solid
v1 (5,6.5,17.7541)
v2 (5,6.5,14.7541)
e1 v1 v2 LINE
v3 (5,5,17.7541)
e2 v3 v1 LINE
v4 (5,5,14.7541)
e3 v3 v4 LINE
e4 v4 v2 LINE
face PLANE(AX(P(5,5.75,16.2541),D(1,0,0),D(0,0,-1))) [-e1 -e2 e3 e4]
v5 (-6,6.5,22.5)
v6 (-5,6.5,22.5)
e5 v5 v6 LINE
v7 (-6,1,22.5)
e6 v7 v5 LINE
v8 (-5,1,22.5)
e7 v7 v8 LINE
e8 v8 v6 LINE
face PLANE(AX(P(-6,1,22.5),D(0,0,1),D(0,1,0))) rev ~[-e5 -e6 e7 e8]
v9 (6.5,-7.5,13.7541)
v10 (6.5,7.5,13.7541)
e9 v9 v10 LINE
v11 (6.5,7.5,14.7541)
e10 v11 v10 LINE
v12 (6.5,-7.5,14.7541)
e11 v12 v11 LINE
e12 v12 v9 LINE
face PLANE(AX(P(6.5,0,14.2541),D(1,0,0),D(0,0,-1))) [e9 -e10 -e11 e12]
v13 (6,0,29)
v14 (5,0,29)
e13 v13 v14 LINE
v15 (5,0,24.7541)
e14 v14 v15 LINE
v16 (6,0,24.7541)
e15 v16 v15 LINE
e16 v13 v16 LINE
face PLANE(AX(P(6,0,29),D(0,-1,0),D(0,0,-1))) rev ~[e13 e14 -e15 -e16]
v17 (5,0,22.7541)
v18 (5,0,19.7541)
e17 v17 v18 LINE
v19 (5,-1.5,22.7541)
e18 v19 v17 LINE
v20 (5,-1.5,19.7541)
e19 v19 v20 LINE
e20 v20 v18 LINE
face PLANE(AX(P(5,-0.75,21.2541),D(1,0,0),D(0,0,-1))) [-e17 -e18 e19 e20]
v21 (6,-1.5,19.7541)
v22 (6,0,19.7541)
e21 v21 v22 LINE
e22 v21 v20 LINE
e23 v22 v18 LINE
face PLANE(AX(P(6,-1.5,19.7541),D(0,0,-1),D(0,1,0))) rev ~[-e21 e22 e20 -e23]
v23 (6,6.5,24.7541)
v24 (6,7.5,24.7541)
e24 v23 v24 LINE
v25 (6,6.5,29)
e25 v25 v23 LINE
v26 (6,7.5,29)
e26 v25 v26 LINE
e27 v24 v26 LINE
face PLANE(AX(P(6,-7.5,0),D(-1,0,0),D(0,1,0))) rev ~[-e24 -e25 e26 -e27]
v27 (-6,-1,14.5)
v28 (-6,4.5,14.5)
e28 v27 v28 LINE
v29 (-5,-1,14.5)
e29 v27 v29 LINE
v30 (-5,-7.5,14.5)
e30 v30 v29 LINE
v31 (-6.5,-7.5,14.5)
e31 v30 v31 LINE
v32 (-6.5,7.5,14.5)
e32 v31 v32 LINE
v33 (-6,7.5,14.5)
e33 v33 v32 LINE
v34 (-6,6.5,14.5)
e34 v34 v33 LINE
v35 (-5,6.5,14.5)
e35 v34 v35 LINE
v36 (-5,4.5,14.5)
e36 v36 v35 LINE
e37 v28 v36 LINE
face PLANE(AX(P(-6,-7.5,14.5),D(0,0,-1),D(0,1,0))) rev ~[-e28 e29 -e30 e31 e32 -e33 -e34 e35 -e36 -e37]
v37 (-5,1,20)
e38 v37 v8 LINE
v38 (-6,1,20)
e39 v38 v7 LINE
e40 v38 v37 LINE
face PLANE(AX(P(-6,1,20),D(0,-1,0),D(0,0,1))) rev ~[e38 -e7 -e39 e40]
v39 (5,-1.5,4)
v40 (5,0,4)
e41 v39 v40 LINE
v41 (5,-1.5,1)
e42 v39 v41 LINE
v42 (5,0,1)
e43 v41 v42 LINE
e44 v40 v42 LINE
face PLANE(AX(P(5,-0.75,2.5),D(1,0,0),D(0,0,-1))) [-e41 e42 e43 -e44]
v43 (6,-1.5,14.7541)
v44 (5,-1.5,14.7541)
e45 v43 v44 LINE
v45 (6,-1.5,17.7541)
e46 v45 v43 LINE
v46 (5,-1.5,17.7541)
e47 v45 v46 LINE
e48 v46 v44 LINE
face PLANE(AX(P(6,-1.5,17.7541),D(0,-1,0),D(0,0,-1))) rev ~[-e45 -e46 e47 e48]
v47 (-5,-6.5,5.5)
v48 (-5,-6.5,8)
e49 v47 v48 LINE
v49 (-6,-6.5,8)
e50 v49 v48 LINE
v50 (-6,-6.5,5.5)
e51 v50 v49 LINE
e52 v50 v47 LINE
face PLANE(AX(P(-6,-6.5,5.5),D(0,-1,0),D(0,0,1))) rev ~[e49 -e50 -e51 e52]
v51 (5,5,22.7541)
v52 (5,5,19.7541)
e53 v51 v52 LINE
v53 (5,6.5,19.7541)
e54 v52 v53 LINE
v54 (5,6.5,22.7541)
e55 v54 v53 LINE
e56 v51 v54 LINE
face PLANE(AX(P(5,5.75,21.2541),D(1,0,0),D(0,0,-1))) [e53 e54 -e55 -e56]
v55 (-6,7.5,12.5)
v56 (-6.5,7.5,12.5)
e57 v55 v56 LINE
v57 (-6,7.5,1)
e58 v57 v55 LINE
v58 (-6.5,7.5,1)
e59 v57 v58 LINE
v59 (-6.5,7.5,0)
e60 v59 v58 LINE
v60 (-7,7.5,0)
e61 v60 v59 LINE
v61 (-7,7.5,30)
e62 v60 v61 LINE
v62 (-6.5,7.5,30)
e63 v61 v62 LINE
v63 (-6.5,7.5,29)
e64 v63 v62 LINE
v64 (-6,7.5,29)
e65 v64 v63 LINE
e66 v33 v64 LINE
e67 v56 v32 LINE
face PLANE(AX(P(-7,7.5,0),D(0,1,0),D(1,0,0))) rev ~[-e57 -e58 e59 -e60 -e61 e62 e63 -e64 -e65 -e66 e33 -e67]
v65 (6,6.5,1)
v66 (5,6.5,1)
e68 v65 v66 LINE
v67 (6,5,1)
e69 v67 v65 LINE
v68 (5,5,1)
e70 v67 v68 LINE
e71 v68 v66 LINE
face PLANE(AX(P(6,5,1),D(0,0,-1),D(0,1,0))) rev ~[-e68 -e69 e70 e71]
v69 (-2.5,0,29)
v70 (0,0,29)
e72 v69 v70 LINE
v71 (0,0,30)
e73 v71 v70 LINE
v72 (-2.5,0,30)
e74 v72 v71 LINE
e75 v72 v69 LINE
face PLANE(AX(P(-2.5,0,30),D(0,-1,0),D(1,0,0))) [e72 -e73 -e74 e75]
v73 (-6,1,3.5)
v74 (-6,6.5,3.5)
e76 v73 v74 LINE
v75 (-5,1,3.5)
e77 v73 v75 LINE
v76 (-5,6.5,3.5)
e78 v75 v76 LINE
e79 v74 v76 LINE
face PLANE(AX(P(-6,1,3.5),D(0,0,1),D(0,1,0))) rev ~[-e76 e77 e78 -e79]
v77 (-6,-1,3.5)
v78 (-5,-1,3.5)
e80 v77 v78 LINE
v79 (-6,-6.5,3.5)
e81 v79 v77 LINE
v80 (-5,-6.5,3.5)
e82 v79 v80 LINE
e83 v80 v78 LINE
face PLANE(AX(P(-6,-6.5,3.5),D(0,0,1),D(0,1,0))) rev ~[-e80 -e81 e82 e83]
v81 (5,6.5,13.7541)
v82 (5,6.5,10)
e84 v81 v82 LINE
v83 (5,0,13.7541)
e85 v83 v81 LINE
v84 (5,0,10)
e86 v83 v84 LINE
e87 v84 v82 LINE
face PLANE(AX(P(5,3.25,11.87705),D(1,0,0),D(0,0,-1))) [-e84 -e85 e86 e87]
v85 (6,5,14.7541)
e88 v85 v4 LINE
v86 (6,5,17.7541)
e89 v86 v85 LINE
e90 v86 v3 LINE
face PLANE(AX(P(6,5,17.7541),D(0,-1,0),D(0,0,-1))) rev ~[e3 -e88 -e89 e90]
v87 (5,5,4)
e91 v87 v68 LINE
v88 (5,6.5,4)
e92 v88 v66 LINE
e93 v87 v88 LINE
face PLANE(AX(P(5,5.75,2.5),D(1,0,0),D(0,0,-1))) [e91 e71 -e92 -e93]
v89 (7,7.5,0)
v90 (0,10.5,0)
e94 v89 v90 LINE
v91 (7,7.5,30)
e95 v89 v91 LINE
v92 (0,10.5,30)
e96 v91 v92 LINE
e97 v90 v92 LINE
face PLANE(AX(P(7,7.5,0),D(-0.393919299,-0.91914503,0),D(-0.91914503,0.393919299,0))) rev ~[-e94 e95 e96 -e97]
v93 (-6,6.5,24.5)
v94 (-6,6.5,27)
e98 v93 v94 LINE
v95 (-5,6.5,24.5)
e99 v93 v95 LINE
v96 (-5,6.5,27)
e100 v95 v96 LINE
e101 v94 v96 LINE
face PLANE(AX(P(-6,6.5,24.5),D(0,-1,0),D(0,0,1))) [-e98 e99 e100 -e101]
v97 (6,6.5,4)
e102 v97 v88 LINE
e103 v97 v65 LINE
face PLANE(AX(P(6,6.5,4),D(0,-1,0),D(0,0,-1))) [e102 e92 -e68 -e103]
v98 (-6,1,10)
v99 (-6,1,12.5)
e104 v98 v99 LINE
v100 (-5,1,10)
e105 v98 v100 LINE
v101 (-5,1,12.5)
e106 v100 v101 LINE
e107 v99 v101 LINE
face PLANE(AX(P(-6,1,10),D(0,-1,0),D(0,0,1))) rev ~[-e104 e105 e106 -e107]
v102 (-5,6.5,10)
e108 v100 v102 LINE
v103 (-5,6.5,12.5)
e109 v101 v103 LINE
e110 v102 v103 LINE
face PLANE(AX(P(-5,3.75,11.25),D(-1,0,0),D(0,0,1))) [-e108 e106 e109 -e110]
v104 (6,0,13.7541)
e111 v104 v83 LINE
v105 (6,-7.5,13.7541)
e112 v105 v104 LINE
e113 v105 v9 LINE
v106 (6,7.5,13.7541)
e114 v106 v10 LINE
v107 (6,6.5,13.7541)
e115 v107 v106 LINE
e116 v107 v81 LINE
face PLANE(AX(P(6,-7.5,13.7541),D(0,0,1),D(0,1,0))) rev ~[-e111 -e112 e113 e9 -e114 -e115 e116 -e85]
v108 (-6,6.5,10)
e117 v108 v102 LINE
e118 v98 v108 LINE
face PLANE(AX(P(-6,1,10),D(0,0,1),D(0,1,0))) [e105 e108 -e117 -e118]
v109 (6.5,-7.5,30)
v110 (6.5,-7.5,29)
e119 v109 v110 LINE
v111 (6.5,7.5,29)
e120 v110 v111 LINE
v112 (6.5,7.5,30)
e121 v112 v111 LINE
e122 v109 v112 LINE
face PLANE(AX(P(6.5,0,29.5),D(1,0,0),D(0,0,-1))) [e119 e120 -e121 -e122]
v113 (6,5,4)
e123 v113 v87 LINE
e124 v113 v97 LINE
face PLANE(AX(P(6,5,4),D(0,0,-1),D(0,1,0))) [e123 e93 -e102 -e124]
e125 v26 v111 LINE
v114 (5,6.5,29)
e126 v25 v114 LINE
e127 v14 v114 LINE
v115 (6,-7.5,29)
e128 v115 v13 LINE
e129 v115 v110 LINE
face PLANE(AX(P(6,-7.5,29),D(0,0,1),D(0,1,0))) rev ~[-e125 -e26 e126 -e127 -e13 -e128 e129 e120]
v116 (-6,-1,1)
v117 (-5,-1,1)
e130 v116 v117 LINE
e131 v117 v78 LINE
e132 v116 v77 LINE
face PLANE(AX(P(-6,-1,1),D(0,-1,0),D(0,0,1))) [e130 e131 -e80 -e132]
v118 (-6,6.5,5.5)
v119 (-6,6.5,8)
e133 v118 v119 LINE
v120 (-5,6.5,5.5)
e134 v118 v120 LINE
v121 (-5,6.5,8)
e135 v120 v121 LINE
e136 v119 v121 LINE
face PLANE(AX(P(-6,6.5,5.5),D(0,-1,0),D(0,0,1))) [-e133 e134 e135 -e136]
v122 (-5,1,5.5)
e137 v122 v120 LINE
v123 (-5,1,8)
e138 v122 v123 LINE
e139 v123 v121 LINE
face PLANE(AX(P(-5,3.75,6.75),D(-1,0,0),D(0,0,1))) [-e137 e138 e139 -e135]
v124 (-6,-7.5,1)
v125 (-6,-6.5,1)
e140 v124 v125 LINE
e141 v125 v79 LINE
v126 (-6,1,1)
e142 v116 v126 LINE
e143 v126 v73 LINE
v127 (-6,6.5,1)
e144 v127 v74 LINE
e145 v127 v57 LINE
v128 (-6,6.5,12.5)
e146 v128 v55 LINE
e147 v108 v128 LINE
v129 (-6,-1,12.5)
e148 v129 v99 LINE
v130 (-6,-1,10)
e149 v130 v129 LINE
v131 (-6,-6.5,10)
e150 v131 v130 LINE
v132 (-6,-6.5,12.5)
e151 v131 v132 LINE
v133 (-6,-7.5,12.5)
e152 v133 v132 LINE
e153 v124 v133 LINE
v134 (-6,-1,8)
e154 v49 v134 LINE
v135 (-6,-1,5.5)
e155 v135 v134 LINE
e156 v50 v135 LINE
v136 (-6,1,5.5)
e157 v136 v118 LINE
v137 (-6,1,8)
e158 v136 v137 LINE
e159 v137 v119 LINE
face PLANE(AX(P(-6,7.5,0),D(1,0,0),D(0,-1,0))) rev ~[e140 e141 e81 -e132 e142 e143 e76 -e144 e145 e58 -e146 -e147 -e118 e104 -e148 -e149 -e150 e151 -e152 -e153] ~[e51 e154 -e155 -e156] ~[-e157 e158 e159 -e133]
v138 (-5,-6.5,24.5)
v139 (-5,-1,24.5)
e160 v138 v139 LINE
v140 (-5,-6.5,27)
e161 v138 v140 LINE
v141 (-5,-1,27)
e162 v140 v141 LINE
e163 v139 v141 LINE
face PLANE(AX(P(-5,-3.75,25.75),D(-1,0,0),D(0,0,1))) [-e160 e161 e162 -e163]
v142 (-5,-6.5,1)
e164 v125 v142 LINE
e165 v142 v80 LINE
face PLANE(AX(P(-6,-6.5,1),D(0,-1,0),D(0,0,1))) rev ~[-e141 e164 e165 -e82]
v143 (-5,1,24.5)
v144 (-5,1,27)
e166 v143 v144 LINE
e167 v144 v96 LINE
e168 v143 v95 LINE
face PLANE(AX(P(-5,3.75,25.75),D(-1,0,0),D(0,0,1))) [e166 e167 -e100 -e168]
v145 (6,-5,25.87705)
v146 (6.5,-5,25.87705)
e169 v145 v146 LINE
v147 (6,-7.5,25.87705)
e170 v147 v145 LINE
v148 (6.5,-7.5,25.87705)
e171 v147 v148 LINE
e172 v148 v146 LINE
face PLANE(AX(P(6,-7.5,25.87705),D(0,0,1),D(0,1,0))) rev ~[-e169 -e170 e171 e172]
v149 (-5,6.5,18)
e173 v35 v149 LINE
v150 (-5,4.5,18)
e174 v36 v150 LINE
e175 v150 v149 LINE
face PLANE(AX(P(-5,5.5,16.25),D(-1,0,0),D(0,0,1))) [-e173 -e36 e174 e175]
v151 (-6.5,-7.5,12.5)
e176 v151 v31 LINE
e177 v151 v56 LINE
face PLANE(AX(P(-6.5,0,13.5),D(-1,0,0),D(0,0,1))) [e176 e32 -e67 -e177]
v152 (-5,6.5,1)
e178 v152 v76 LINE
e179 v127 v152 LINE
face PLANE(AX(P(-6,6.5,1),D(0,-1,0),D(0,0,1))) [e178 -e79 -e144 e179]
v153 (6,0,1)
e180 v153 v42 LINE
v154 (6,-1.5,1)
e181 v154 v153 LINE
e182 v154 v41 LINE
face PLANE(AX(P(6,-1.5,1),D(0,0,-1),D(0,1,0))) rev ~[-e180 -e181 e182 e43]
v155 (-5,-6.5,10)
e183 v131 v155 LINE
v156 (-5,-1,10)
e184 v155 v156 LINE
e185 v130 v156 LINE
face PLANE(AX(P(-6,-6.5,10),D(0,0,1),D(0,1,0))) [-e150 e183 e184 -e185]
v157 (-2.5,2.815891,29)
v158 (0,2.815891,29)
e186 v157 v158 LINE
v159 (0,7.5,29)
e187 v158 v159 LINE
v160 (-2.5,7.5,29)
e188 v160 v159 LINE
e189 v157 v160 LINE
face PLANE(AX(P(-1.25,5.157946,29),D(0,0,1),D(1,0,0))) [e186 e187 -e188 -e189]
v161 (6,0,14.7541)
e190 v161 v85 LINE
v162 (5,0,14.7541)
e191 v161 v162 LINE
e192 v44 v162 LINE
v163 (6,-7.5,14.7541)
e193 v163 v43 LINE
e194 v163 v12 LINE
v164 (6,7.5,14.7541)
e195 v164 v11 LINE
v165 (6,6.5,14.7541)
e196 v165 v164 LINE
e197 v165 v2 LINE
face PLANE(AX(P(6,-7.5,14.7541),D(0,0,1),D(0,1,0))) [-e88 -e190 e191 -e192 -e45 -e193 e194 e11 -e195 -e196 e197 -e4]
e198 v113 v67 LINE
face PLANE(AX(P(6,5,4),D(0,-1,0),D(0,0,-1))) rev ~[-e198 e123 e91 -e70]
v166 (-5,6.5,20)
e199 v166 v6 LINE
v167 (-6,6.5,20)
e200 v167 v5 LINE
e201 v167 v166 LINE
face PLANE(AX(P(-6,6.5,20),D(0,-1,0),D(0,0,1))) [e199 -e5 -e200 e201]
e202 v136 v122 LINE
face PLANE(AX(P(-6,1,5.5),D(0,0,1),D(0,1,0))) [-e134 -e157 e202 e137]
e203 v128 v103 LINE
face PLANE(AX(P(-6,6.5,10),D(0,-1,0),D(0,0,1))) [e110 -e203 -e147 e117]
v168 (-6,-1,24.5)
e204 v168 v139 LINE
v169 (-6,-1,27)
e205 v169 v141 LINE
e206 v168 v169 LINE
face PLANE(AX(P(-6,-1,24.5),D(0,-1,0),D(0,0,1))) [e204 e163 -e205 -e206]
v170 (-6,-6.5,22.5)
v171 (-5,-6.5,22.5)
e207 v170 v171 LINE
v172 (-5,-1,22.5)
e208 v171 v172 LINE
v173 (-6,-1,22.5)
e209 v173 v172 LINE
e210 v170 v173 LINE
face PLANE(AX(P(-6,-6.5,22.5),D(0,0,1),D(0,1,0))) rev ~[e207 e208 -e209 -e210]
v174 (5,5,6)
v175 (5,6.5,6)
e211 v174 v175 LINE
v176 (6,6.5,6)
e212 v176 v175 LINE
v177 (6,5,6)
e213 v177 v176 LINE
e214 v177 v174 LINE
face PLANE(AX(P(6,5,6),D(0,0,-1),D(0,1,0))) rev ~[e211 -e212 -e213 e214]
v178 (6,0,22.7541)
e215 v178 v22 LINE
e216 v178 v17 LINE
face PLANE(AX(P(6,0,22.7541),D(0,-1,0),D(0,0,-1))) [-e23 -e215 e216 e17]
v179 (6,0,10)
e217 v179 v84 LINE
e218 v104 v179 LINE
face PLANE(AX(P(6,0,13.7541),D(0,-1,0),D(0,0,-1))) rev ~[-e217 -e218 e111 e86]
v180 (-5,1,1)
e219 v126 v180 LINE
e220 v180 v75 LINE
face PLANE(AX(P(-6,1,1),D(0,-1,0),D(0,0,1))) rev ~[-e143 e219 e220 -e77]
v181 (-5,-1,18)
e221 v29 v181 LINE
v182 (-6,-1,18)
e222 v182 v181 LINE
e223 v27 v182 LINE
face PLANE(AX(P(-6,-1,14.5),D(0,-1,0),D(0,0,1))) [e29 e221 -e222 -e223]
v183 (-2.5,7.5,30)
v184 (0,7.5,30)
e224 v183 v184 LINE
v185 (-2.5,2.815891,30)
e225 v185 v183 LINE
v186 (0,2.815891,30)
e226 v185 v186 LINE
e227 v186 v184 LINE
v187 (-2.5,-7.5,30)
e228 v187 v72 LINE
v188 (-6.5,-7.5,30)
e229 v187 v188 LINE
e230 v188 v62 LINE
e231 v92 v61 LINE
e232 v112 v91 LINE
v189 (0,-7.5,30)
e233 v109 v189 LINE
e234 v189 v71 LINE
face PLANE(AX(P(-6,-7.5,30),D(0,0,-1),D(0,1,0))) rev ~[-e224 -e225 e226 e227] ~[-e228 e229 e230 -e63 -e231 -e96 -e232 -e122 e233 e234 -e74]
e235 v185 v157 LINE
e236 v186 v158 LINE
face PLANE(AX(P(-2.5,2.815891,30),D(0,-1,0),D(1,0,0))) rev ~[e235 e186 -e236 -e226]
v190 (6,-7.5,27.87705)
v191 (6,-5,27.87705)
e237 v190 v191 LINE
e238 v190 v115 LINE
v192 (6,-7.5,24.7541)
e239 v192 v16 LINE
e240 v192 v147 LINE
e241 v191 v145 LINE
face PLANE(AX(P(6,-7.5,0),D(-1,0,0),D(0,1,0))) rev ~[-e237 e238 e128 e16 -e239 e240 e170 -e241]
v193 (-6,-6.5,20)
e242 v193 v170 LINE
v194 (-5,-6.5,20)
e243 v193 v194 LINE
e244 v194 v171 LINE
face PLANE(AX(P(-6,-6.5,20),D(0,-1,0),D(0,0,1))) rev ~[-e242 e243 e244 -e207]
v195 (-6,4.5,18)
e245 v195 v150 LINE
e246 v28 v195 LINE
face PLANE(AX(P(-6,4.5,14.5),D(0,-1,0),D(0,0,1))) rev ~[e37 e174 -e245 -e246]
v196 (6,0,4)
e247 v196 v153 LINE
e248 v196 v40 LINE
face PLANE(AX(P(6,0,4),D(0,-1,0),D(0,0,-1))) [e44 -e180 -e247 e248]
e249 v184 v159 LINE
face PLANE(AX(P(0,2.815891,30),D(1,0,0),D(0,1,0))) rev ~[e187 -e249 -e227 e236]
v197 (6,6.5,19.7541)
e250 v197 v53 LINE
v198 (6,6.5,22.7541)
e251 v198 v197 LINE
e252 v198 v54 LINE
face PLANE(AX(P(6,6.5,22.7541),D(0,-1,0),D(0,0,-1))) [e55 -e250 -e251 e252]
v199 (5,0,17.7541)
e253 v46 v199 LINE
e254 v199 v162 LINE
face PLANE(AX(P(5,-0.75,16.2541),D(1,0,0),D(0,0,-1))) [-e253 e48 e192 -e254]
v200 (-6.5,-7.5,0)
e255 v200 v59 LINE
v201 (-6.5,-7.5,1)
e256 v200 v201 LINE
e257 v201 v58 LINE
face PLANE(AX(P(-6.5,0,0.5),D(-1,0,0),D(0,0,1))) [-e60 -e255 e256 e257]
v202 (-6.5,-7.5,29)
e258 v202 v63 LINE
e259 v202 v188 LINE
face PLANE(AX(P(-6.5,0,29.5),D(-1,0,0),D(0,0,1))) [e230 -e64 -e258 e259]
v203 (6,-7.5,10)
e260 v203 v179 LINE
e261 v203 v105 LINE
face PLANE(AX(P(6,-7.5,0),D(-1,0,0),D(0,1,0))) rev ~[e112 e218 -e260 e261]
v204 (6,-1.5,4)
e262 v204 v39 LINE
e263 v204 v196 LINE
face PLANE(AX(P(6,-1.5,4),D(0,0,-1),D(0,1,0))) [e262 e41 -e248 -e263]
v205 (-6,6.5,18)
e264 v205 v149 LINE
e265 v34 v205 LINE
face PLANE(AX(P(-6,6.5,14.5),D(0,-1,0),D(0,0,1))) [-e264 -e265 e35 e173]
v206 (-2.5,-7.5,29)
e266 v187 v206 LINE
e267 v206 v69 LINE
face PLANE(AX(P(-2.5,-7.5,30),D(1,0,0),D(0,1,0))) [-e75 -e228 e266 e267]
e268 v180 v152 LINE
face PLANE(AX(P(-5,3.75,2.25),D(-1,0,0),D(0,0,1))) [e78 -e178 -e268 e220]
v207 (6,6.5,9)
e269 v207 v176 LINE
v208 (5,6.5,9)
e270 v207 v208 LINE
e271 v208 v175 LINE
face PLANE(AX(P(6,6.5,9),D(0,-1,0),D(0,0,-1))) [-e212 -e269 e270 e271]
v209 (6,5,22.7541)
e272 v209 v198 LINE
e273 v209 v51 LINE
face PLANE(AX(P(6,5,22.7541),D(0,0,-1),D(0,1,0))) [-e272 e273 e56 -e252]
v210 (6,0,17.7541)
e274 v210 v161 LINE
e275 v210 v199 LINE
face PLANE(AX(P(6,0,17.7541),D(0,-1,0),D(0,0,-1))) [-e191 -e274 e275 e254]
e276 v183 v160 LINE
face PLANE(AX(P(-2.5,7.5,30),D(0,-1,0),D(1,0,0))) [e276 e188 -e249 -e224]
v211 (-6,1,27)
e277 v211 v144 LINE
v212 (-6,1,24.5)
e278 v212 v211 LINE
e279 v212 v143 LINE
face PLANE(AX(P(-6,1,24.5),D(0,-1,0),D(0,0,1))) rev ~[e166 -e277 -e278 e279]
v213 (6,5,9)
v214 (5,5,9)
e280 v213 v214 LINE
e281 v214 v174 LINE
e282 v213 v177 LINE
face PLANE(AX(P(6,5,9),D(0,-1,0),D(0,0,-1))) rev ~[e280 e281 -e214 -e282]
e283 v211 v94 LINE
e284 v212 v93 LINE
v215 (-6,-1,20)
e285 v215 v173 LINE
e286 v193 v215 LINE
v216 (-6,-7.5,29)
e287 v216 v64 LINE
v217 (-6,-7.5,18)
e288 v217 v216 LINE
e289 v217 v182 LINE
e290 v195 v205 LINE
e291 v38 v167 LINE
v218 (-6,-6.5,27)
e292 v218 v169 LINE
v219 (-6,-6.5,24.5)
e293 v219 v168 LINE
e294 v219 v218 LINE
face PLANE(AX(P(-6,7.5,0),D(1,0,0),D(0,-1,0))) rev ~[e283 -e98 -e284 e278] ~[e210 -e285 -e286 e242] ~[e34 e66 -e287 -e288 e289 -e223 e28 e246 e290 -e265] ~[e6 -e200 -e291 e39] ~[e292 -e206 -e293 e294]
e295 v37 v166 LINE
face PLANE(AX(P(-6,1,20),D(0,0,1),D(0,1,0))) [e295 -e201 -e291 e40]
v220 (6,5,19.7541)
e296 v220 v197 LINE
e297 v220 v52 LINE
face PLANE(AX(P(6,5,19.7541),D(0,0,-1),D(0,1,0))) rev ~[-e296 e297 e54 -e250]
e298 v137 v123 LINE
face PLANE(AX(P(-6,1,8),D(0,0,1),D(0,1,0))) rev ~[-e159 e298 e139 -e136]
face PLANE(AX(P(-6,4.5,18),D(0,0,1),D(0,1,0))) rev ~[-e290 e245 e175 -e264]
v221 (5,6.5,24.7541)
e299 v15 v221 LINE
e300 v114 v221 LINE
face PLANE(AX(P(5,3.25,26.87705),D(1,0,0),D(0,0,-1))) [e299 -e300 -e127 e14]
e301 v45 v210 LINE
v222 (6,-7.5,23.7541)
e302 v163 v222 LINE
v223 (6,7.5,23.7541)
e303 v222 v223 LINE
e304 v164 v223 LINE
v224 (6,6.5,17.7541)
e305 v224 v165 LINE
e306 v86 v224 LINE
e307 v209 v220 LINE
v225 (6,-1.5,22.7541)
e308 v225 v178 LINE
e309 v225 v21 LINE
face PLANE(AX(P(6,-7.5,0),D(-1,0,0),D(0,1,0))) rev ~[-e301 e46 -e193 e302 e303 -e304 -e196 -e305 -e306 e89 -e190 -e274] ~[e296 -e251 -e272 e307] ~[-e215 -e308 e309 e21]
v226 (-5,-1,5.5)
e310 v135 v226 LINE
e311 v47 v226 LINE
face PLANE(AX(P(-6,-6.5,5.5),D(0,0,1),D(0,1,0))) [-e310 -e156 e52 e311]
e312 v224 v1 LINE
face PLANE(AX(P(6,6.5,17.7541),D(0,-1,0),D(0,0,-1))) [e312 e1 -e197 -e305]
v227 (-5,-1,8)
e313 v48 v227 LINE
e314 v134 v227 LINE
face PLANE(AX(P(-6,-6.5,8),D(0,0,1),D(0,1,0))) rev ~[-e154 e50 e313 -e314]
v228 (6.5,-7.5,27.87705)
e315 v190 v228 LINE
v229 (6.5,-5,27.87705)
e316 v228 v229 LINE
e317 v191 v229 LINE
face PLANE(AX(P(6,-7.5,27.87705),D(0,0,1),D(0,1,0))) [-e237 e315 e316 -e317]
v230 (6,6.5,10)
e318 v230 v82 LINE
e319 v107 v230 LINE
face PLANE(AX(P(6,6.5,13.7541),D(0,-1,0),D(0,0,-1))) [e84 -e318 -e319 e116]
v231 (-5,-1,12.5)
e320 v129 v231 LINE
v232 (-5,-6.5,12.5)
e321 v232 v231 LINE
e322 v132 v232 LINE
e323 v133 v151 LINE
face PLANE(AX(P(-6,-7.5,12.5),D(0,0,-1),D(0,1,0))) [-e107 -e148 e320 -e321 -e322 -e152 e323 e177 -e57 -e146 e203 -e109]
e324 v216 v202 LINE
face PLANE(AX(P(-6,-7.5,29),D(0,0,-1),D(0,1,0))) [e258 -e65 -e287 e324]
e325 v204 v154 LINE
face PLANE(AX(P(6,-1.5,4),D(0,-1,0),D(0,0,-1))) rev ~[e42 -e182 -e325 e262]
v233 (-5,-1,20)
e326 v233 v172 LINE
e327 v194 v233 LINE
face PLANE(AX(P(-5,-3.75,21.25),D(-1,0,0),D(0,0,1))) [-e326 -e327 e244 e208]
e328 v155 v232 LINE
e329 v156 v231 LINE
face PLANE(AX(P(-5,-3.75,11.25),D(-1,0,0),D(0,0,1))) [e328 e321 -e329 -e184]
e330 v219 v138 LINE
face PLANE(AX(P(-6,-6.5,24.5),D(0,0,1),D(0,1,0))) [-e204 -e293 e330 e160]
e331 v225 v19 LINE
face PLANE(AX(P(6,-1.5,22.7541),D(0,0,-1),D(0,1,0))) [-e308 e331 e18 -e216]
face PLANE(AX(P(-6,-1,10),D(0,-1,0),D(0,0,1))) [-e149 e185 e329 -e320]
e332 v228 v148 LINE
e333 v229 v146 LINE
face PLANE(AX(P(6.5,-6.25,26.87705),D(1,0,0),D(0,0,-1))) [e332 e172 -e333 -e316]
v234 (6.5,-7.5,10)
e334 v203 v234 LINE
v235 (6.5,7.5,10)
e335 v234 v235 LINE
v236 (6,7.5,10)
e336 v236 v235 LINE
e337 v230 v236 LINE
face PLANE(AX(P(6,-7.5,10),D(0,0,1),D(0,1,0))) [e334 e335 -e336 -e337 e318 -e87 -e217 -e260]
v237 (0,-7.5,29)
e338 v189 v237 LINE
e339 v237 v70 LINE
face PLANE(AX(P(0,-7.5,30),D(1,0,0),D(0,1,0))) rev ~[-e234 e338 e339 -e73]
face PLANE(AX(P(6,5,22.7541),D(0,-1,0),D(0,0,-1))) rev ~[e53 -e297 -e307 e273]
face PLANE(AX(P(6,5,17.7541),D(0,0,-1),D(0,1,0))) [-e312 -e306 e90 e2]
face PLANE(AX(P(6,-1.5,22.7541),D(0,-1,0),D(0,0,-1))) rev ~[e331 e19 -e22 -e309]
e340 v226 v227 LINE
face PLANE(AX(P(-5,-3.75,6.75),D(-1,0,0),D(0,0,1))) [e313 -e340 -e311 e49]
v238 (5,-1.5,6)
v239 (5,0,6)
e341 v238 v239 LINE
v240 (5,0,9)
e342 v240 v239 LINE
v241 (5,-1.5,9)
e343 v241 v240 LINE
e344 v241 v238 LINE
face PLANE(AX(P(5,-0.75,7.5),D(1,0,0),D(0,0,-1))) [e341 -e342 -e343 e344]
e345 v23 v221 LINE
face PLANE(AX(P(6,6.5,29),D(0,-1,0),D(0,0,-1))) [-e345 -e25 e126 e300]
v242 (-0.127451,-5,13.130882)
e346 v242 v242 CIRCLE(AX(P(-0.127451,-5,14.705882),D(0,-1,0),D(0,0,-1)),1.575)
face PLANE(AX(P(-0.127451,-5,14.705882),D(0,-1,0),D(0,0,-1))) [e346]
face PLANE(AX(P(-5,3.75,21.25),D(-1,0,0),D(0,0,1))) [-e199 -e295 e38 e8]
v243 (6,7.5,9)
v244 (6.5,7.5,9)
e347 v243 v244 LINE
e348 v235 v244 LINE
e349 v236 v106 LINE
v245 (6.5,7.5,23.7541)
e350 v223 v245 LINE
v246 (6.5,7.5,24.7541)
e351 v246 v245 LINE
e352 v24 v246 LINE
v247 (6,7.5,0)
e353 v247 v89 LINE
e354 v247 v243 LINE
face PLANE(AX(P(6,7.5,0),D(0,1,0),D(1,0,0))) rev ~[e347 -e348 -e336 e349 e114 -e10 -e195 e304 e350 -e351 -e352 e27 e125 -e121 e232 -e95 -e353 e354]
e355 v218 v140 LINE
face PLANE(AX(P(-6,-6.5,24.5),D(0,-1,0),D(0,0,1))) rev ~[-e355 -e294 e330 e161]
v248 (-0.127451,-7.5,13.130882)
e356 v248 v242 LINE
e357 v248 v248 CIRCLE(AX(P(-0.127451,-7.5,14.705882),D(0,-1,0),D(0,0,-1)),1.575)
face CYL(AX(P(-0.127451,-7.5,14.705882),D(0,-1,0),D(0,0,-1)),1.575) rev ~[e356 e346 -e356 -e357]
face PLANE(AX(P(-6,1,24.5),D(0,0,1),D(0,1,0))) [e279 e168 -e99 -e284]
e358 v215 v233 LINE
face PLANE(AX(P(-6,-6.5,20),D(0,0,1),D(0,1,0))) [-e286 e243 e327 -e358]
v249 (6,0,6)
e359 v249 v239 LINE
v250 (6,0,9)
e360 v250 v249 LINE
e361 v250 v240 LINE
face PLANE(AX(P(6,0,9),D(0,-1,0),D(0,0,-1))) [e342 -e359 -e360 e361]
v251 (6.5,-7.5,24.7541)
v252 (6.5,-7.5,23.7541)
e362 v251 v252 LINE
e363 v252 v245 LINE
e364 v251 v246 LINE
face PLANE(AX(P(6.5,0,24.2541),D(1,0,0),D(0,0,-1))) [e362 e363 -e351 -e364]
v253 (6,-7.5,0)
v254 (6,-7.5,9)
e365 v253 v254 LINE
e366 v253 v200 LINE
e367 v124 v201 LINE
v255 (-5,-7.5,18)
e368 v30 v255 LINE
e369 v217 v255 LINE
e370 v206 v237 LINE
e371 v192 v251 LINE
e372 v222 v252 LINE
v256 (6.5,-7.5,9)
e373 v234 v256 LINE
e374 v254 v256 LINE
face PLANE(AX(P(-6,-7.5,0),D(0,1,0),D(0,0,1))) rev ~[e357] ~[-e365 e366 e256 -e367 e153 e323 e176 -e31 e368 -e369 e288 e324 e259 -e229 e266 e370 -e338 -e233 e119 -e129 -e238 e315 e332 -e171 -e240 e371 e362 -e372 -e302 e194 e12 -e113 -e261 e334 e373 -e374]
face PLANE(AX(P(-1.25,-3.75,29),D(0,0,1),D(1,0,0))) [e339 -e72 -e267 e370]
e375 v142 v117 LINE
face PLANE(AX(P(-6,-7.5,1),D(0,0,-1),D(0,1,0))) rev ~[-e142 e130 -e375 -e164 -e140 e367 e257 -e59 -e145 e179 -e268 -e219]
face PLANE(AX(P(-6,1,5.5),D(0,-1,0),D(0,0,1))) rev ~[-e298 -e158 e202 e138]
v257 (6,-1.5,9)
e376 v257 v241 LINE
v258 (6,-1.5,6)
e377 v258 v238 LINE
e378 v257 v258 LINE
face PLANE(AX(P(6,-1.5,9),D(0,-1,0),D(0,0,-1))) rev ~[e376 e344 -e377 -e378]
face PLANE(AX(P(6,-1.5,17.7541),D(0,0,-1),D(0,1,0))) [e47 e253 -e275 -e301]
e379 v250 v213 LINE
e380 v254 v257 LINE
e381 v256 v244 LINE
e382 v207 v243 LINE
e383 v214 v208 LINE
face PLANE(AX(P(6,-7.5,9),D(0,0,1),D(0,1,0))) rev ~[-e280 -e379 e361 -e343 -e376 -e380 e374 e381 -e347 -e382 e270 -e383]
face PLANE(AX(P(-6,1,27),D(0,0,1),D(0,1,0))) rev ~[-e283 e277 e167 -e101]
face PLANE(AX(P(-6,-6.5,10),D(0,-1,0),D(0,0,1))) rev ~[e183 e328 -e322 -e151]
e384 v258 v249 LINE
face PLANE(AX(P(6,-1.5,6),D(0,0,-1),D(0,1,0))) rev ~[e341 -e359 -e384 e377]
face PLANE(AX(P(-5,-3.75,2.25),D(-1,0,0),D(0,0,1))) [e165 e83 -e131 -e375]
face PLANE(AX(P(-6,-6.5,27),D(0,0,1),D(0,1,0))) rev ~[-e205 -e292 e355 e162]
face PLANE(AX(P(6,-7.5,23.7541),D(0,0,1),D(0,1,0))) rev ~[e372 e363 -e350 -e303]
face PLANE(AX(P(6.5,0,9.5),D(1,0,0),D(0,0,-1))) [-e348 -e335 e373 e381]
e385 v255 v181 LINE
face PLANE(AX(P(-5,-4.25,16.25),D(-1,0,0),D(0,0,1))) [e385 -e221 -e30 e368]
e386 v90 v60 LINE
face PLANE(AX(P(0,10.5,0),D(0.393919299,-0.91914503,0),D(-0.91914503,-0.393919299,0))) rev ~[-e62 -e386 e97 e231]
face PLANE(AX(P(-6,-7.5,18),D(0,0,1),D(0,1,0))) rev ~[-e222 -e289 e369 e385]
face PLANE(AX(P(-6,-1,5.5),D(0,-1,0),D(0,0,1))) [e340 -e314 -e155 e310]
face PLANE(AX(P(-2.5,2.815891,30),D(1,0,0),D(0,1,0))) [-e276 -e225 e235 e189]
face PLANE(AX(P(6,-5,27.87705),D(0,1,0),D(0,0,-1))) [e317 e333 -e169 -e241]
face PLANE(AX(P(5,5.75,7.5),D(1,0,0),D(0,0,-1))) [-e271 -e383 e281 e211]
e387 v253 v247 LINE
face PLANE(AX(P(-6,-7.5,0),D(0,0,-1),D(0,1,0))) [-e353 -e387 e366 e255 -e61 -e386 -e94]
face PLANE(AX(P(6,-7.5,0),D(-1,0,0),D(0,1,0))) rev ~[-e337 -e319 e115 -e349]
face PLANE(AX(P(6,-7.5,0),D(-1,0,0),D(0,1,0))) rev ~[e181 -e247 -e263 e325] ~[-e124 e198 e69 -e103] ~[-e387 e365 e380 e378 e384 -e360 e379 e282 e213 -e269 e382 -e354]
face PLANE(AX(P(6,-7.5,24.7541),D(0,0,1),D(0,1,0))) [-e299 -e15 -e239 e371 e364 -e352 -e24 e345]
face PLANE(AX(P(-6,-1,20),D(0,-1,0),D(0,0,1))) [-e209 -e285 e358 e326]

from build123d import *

# Parameters (mm, degrees)
SALIENTE_EXTRUIR1_DEPTH = 30
CROQUIS2_W              = 1
CROQUIS2_H              = 15
SALIENTE_EXTRUIR2_DEPTH = 0.5
CROQUIS3_W              = 1
CROQUIS3_H              = 15
SALIENTE_EXTRUIR3_DEPTH = 0.5
CROQUIS3_3_W            = 4.245899855
CROQUIS3_3_H            = 6.5
CROQUIS3_3_W_2          = 3
CROQUIS3_3_H_2          = 1.5
CROQUIS3_3_W_3          = 3.754100145
CORTAR_EXTRUIR1_DEPTH   = 1
CROQUIS3_4_W            = 2
CROQUIS3_4_H            = 2.5
SALIENTE_EXTRUIR4_DEPTH = 0.5
CROQUIS7_W              = 1
CROQUIS7_H              = 15
SALIENTE_EXTRUIR5_DEPTH = 0.5
CROQUIS8_W              = 2.5
CROQUIS8_H              = 7.5
CROQUIS8_H_2            = 4.684108695
CORTAR_EXTRUIR2_DEPTH   = 1
CROQUIS10_W             = 1
CROQUIS10_H             = 15
CROQUIS10_W_2           = 2
SALIENTE_EXTRUIR6_DEPTH = 0.5
CROQUIS11_W             = 2.5
CROQUIS11_H             = 5.5
CORTAR_EXTRUIR3_DEPTH   = 1
CROQUIS12_W             = 3.5
CROQUIS12_H             = 6.5
CROQUIS12_H_2           = 2
CROQUIS12_W_2           = 2.5
CROQUIS12_H_3           = 5.5
CORTAR_EXTRUIR4_DEPTH   = 1
CROQUIS13_R             = 1.575
CORTAR_EXTRUIR5_DEPTH   = 2.5


with BuildPart() as part:
    # Croquis1 → Saliente-Extruir1 (new body)
    with BuildSketch(Plane.XY):
        Polygon((-6, -7.5), (6, -7.5), (6, 7.5), (7, 7.5), (0, 10.5), (-7, 7.5), (-6, 7.5), align=None)
    extrude(amount=SALIENTE_EXTRUIR1_DEPTH)

    # Croquis2 → Saliente-Extruir2 (add)
    with BuildSketch(Plane(origin=(6, 0, 0), x_dir=(0, 0, -1), z_dir=(1, 0, 0))):
        with Locations((-29.5, 0)):
            Rectangle(CROQUIS2_W, CROQUIS2_H)
        with Locations((-24.254100145, 0)):
            Rectangle(CROQUIS2_W, CROQUIS2_H)
    extrude(amount=SALIENTE_EXTRUIR2_DEPTH)

    # Croquis3 → Saliente-Extruir3 (add)
    with BuildSketch(Plane(origin=(6, 0, 0), x_dir=(0, 0, -1), z_dir=(1, 0, 0))):
        with Locations((-14.254100145, 0)):
            Rectangle(CROQUIS3_W, CROQUIS3_H)
        with Locations((-9.5, 0)):
            Rectangle(CROQUIS3_W, CROQUIS3_H)
    extrude(amount=SALIENTE_EXTRUIR3_DEPTH)

    # Croquis3<3> → Cortar-Extruir1 (cut)
    with BuildSketch(Plane(origin=(6, 0, 0), x_dir=(0, 0, -1), z_dir=(1, 0, 0))):
        with Locations((-26.877050073, 3.25)):
            Rectangle(CROQUIS3_3_W, CROQUIS3_3_H)
        with Locations((-21.254100145, 5.75)):
            Rectangle(CROQUIS3_3_W_2, CROQUIS3_3_H_2)
        with Locations((-16.254100145, 5.75)):
            Rectangle(CROQUIS3_3_W_2, CROQUIS3_3_H_2)
        with Locations((-16.254100145, -0.75)):
            Rectangle(CROQUIS3_3_W_2, CROQUIS3_3_H_2)
        with Locations((-11.877050073, 3.25)):
            Rectangle(CROQUIS3_3_W_3, CROQUIS3_3_H)
        with Locations((-7.5, 5.75)):
            Rectangle(CROQUIS3_3_W_2, CROQUIS3_3_H_2)
        with Locations((-7.5, -0.75)):
            Rectangle(CROQUIS3_3_W_2, CROQUIS3_3_H_2)
        with Locations((-2.5, 5.75)):
            Rectangle(CROQUIS3_3_W_2, CROQUIS3_3_H_2)
        with Locations((-21.254100145, -0.75)):
            Rectangle(CROQUIS3_3_W_2, CROQUIS3_3_H_2)
        with Locations((-2.5, -0.75)):
            Rectangle(CROQUIS3_3_W_2, CROQUIS3_3_H_2)
    extrude(amount=-CORTAR_EXTRUIR1_DEPTH, mode=Mode.SUBTRACT)

    # Croquis3<4> → Saliente-Extruir4 (add)
    with BuildSketch(Plane(origin=(6, 0, 0), x_dir=(0, 0, -1), z_dir=(1, 0, 0))):
        with Locations((-26.877050072, -6.25)):
            Rectangle(CROQUIS3_4_W, CROQUIS3_4_H)
    extrude(amount=SALIENTE_EXTRUIR4_DEPTH)

    # Croquis7 → Saliente-Extruir5 (add)
    with BuildSketch(Plane.ZY.offset(6)):
        with Locations((29.5, 0)):
            Rectangle(CROQUIS7_W, CROQUIS7_H)
    extrude(amount=SALIENTE_EXTRUIR5_DEPTH)

    # Croquis8 → Cortar-Extruir2 (cut)
    with BuildSketch(Plane.XY.offset(30)):
        with Locations((-1.25, -3.75)):
            Rectangle(CROQUIS8_W, CROQUIS8_H)
        with Locations((-1.25, 5.157945653)):
            Rectangle(CROQUIS8_W, CROQUIS8_H_2)
    extrude(amount=-CORTAR_EXTRUIR2_DEPTH, mode=Mode.SUBTRACT)

    # Croquis10 → Saliente-Extruir6 (add)
    with BuildSketch(Plane.ZY.offset(6)):
        with Locations((0.5, 0)):
            Rectangle(CROQUIS10_W, CROQUIS10_H)
        with Locations((13.5, 0)):
            Rectangle(CROQUIS10_W_2, CROQUIS10_H)
    extrude(amount=SALIENTE_EXTRUIR6_DEPTH)

    # Croquis11 → Cortar-Extruir3 (cut)
    with BuildSketch(Plane.ZY.offset(6)):
        with Locations((6.75, 3.75)):
            Rectangle(CROQUIS11_W, CROQUIS11_H)
        with Locations((2.25, 3.75)):
            Rectangle(CROQUIS11_W, CROQUIS11_H)
        with Locations((11.25, 3.75)):
            Rectangle(CROQUIS11_W, CROQUIS11_H)
        with Locations((6.75, -3.75)):
            Rectangle(CROQUIS11_W, CROQUIS11_H)
        with Locations((11.25, -3.75)):
            Rectangle(CROQUIS11_W, CROQUIS11_H)
        with Locations((2.25, -3.75)):
            Rectangle(CROQUIS11_W, CROQUIS11_H)
    extrude(amount=-CORTAR_EXTRUIR3_DEPTH, mode=Mode.SUBTRACT)

    # Croquis12 → Cortar-Extruir4 (cut)
    with BuildSketch(Plane.ZY.offset(6)):
        with Locations((16.25, -4.25)):
            Rectangle(CROQUIS12_W, CROQUIS12_H)
        with Locations((16.25, 5.5)):
            Rectangle(CROQUIS12_W, CROQUIS12_H_2)
        with Locations((21.25, 3.75)):
            Rectangle(CROQUIS12_W_2, CROQUIS12_H_3)
        with Locations((25.75, 3.75)):
            Rectangle(CROQUIS12_W_2, CROQUIS12_H_3)
        with Locations((21.25, -3.75)):
            Rectangle(CROQUIS12_W_2, CROQUIS12_H_3)
        with Locations((25.75, -3.75)):
            Rectangle(CROQUIS12_W_2, CROQUIS12_H_3)
    extrude(amount=-CORTAR_EXTRUIR4_DEPTH, mode=Mode.SUBTRACT)

    # Croquis13 → Cortar-Extruir5 (cut)
    with BuildSketch(Plane.XZ.offset(7.5)):
        with Locations((-0.12745098, 14.705882353)):
            Circle(CROQUIS13_R)
    extrude(amount=-CORTAR_EXTRUIR5_DEPTH, mode=Mode.SUBTRACT)


solid = part.part
